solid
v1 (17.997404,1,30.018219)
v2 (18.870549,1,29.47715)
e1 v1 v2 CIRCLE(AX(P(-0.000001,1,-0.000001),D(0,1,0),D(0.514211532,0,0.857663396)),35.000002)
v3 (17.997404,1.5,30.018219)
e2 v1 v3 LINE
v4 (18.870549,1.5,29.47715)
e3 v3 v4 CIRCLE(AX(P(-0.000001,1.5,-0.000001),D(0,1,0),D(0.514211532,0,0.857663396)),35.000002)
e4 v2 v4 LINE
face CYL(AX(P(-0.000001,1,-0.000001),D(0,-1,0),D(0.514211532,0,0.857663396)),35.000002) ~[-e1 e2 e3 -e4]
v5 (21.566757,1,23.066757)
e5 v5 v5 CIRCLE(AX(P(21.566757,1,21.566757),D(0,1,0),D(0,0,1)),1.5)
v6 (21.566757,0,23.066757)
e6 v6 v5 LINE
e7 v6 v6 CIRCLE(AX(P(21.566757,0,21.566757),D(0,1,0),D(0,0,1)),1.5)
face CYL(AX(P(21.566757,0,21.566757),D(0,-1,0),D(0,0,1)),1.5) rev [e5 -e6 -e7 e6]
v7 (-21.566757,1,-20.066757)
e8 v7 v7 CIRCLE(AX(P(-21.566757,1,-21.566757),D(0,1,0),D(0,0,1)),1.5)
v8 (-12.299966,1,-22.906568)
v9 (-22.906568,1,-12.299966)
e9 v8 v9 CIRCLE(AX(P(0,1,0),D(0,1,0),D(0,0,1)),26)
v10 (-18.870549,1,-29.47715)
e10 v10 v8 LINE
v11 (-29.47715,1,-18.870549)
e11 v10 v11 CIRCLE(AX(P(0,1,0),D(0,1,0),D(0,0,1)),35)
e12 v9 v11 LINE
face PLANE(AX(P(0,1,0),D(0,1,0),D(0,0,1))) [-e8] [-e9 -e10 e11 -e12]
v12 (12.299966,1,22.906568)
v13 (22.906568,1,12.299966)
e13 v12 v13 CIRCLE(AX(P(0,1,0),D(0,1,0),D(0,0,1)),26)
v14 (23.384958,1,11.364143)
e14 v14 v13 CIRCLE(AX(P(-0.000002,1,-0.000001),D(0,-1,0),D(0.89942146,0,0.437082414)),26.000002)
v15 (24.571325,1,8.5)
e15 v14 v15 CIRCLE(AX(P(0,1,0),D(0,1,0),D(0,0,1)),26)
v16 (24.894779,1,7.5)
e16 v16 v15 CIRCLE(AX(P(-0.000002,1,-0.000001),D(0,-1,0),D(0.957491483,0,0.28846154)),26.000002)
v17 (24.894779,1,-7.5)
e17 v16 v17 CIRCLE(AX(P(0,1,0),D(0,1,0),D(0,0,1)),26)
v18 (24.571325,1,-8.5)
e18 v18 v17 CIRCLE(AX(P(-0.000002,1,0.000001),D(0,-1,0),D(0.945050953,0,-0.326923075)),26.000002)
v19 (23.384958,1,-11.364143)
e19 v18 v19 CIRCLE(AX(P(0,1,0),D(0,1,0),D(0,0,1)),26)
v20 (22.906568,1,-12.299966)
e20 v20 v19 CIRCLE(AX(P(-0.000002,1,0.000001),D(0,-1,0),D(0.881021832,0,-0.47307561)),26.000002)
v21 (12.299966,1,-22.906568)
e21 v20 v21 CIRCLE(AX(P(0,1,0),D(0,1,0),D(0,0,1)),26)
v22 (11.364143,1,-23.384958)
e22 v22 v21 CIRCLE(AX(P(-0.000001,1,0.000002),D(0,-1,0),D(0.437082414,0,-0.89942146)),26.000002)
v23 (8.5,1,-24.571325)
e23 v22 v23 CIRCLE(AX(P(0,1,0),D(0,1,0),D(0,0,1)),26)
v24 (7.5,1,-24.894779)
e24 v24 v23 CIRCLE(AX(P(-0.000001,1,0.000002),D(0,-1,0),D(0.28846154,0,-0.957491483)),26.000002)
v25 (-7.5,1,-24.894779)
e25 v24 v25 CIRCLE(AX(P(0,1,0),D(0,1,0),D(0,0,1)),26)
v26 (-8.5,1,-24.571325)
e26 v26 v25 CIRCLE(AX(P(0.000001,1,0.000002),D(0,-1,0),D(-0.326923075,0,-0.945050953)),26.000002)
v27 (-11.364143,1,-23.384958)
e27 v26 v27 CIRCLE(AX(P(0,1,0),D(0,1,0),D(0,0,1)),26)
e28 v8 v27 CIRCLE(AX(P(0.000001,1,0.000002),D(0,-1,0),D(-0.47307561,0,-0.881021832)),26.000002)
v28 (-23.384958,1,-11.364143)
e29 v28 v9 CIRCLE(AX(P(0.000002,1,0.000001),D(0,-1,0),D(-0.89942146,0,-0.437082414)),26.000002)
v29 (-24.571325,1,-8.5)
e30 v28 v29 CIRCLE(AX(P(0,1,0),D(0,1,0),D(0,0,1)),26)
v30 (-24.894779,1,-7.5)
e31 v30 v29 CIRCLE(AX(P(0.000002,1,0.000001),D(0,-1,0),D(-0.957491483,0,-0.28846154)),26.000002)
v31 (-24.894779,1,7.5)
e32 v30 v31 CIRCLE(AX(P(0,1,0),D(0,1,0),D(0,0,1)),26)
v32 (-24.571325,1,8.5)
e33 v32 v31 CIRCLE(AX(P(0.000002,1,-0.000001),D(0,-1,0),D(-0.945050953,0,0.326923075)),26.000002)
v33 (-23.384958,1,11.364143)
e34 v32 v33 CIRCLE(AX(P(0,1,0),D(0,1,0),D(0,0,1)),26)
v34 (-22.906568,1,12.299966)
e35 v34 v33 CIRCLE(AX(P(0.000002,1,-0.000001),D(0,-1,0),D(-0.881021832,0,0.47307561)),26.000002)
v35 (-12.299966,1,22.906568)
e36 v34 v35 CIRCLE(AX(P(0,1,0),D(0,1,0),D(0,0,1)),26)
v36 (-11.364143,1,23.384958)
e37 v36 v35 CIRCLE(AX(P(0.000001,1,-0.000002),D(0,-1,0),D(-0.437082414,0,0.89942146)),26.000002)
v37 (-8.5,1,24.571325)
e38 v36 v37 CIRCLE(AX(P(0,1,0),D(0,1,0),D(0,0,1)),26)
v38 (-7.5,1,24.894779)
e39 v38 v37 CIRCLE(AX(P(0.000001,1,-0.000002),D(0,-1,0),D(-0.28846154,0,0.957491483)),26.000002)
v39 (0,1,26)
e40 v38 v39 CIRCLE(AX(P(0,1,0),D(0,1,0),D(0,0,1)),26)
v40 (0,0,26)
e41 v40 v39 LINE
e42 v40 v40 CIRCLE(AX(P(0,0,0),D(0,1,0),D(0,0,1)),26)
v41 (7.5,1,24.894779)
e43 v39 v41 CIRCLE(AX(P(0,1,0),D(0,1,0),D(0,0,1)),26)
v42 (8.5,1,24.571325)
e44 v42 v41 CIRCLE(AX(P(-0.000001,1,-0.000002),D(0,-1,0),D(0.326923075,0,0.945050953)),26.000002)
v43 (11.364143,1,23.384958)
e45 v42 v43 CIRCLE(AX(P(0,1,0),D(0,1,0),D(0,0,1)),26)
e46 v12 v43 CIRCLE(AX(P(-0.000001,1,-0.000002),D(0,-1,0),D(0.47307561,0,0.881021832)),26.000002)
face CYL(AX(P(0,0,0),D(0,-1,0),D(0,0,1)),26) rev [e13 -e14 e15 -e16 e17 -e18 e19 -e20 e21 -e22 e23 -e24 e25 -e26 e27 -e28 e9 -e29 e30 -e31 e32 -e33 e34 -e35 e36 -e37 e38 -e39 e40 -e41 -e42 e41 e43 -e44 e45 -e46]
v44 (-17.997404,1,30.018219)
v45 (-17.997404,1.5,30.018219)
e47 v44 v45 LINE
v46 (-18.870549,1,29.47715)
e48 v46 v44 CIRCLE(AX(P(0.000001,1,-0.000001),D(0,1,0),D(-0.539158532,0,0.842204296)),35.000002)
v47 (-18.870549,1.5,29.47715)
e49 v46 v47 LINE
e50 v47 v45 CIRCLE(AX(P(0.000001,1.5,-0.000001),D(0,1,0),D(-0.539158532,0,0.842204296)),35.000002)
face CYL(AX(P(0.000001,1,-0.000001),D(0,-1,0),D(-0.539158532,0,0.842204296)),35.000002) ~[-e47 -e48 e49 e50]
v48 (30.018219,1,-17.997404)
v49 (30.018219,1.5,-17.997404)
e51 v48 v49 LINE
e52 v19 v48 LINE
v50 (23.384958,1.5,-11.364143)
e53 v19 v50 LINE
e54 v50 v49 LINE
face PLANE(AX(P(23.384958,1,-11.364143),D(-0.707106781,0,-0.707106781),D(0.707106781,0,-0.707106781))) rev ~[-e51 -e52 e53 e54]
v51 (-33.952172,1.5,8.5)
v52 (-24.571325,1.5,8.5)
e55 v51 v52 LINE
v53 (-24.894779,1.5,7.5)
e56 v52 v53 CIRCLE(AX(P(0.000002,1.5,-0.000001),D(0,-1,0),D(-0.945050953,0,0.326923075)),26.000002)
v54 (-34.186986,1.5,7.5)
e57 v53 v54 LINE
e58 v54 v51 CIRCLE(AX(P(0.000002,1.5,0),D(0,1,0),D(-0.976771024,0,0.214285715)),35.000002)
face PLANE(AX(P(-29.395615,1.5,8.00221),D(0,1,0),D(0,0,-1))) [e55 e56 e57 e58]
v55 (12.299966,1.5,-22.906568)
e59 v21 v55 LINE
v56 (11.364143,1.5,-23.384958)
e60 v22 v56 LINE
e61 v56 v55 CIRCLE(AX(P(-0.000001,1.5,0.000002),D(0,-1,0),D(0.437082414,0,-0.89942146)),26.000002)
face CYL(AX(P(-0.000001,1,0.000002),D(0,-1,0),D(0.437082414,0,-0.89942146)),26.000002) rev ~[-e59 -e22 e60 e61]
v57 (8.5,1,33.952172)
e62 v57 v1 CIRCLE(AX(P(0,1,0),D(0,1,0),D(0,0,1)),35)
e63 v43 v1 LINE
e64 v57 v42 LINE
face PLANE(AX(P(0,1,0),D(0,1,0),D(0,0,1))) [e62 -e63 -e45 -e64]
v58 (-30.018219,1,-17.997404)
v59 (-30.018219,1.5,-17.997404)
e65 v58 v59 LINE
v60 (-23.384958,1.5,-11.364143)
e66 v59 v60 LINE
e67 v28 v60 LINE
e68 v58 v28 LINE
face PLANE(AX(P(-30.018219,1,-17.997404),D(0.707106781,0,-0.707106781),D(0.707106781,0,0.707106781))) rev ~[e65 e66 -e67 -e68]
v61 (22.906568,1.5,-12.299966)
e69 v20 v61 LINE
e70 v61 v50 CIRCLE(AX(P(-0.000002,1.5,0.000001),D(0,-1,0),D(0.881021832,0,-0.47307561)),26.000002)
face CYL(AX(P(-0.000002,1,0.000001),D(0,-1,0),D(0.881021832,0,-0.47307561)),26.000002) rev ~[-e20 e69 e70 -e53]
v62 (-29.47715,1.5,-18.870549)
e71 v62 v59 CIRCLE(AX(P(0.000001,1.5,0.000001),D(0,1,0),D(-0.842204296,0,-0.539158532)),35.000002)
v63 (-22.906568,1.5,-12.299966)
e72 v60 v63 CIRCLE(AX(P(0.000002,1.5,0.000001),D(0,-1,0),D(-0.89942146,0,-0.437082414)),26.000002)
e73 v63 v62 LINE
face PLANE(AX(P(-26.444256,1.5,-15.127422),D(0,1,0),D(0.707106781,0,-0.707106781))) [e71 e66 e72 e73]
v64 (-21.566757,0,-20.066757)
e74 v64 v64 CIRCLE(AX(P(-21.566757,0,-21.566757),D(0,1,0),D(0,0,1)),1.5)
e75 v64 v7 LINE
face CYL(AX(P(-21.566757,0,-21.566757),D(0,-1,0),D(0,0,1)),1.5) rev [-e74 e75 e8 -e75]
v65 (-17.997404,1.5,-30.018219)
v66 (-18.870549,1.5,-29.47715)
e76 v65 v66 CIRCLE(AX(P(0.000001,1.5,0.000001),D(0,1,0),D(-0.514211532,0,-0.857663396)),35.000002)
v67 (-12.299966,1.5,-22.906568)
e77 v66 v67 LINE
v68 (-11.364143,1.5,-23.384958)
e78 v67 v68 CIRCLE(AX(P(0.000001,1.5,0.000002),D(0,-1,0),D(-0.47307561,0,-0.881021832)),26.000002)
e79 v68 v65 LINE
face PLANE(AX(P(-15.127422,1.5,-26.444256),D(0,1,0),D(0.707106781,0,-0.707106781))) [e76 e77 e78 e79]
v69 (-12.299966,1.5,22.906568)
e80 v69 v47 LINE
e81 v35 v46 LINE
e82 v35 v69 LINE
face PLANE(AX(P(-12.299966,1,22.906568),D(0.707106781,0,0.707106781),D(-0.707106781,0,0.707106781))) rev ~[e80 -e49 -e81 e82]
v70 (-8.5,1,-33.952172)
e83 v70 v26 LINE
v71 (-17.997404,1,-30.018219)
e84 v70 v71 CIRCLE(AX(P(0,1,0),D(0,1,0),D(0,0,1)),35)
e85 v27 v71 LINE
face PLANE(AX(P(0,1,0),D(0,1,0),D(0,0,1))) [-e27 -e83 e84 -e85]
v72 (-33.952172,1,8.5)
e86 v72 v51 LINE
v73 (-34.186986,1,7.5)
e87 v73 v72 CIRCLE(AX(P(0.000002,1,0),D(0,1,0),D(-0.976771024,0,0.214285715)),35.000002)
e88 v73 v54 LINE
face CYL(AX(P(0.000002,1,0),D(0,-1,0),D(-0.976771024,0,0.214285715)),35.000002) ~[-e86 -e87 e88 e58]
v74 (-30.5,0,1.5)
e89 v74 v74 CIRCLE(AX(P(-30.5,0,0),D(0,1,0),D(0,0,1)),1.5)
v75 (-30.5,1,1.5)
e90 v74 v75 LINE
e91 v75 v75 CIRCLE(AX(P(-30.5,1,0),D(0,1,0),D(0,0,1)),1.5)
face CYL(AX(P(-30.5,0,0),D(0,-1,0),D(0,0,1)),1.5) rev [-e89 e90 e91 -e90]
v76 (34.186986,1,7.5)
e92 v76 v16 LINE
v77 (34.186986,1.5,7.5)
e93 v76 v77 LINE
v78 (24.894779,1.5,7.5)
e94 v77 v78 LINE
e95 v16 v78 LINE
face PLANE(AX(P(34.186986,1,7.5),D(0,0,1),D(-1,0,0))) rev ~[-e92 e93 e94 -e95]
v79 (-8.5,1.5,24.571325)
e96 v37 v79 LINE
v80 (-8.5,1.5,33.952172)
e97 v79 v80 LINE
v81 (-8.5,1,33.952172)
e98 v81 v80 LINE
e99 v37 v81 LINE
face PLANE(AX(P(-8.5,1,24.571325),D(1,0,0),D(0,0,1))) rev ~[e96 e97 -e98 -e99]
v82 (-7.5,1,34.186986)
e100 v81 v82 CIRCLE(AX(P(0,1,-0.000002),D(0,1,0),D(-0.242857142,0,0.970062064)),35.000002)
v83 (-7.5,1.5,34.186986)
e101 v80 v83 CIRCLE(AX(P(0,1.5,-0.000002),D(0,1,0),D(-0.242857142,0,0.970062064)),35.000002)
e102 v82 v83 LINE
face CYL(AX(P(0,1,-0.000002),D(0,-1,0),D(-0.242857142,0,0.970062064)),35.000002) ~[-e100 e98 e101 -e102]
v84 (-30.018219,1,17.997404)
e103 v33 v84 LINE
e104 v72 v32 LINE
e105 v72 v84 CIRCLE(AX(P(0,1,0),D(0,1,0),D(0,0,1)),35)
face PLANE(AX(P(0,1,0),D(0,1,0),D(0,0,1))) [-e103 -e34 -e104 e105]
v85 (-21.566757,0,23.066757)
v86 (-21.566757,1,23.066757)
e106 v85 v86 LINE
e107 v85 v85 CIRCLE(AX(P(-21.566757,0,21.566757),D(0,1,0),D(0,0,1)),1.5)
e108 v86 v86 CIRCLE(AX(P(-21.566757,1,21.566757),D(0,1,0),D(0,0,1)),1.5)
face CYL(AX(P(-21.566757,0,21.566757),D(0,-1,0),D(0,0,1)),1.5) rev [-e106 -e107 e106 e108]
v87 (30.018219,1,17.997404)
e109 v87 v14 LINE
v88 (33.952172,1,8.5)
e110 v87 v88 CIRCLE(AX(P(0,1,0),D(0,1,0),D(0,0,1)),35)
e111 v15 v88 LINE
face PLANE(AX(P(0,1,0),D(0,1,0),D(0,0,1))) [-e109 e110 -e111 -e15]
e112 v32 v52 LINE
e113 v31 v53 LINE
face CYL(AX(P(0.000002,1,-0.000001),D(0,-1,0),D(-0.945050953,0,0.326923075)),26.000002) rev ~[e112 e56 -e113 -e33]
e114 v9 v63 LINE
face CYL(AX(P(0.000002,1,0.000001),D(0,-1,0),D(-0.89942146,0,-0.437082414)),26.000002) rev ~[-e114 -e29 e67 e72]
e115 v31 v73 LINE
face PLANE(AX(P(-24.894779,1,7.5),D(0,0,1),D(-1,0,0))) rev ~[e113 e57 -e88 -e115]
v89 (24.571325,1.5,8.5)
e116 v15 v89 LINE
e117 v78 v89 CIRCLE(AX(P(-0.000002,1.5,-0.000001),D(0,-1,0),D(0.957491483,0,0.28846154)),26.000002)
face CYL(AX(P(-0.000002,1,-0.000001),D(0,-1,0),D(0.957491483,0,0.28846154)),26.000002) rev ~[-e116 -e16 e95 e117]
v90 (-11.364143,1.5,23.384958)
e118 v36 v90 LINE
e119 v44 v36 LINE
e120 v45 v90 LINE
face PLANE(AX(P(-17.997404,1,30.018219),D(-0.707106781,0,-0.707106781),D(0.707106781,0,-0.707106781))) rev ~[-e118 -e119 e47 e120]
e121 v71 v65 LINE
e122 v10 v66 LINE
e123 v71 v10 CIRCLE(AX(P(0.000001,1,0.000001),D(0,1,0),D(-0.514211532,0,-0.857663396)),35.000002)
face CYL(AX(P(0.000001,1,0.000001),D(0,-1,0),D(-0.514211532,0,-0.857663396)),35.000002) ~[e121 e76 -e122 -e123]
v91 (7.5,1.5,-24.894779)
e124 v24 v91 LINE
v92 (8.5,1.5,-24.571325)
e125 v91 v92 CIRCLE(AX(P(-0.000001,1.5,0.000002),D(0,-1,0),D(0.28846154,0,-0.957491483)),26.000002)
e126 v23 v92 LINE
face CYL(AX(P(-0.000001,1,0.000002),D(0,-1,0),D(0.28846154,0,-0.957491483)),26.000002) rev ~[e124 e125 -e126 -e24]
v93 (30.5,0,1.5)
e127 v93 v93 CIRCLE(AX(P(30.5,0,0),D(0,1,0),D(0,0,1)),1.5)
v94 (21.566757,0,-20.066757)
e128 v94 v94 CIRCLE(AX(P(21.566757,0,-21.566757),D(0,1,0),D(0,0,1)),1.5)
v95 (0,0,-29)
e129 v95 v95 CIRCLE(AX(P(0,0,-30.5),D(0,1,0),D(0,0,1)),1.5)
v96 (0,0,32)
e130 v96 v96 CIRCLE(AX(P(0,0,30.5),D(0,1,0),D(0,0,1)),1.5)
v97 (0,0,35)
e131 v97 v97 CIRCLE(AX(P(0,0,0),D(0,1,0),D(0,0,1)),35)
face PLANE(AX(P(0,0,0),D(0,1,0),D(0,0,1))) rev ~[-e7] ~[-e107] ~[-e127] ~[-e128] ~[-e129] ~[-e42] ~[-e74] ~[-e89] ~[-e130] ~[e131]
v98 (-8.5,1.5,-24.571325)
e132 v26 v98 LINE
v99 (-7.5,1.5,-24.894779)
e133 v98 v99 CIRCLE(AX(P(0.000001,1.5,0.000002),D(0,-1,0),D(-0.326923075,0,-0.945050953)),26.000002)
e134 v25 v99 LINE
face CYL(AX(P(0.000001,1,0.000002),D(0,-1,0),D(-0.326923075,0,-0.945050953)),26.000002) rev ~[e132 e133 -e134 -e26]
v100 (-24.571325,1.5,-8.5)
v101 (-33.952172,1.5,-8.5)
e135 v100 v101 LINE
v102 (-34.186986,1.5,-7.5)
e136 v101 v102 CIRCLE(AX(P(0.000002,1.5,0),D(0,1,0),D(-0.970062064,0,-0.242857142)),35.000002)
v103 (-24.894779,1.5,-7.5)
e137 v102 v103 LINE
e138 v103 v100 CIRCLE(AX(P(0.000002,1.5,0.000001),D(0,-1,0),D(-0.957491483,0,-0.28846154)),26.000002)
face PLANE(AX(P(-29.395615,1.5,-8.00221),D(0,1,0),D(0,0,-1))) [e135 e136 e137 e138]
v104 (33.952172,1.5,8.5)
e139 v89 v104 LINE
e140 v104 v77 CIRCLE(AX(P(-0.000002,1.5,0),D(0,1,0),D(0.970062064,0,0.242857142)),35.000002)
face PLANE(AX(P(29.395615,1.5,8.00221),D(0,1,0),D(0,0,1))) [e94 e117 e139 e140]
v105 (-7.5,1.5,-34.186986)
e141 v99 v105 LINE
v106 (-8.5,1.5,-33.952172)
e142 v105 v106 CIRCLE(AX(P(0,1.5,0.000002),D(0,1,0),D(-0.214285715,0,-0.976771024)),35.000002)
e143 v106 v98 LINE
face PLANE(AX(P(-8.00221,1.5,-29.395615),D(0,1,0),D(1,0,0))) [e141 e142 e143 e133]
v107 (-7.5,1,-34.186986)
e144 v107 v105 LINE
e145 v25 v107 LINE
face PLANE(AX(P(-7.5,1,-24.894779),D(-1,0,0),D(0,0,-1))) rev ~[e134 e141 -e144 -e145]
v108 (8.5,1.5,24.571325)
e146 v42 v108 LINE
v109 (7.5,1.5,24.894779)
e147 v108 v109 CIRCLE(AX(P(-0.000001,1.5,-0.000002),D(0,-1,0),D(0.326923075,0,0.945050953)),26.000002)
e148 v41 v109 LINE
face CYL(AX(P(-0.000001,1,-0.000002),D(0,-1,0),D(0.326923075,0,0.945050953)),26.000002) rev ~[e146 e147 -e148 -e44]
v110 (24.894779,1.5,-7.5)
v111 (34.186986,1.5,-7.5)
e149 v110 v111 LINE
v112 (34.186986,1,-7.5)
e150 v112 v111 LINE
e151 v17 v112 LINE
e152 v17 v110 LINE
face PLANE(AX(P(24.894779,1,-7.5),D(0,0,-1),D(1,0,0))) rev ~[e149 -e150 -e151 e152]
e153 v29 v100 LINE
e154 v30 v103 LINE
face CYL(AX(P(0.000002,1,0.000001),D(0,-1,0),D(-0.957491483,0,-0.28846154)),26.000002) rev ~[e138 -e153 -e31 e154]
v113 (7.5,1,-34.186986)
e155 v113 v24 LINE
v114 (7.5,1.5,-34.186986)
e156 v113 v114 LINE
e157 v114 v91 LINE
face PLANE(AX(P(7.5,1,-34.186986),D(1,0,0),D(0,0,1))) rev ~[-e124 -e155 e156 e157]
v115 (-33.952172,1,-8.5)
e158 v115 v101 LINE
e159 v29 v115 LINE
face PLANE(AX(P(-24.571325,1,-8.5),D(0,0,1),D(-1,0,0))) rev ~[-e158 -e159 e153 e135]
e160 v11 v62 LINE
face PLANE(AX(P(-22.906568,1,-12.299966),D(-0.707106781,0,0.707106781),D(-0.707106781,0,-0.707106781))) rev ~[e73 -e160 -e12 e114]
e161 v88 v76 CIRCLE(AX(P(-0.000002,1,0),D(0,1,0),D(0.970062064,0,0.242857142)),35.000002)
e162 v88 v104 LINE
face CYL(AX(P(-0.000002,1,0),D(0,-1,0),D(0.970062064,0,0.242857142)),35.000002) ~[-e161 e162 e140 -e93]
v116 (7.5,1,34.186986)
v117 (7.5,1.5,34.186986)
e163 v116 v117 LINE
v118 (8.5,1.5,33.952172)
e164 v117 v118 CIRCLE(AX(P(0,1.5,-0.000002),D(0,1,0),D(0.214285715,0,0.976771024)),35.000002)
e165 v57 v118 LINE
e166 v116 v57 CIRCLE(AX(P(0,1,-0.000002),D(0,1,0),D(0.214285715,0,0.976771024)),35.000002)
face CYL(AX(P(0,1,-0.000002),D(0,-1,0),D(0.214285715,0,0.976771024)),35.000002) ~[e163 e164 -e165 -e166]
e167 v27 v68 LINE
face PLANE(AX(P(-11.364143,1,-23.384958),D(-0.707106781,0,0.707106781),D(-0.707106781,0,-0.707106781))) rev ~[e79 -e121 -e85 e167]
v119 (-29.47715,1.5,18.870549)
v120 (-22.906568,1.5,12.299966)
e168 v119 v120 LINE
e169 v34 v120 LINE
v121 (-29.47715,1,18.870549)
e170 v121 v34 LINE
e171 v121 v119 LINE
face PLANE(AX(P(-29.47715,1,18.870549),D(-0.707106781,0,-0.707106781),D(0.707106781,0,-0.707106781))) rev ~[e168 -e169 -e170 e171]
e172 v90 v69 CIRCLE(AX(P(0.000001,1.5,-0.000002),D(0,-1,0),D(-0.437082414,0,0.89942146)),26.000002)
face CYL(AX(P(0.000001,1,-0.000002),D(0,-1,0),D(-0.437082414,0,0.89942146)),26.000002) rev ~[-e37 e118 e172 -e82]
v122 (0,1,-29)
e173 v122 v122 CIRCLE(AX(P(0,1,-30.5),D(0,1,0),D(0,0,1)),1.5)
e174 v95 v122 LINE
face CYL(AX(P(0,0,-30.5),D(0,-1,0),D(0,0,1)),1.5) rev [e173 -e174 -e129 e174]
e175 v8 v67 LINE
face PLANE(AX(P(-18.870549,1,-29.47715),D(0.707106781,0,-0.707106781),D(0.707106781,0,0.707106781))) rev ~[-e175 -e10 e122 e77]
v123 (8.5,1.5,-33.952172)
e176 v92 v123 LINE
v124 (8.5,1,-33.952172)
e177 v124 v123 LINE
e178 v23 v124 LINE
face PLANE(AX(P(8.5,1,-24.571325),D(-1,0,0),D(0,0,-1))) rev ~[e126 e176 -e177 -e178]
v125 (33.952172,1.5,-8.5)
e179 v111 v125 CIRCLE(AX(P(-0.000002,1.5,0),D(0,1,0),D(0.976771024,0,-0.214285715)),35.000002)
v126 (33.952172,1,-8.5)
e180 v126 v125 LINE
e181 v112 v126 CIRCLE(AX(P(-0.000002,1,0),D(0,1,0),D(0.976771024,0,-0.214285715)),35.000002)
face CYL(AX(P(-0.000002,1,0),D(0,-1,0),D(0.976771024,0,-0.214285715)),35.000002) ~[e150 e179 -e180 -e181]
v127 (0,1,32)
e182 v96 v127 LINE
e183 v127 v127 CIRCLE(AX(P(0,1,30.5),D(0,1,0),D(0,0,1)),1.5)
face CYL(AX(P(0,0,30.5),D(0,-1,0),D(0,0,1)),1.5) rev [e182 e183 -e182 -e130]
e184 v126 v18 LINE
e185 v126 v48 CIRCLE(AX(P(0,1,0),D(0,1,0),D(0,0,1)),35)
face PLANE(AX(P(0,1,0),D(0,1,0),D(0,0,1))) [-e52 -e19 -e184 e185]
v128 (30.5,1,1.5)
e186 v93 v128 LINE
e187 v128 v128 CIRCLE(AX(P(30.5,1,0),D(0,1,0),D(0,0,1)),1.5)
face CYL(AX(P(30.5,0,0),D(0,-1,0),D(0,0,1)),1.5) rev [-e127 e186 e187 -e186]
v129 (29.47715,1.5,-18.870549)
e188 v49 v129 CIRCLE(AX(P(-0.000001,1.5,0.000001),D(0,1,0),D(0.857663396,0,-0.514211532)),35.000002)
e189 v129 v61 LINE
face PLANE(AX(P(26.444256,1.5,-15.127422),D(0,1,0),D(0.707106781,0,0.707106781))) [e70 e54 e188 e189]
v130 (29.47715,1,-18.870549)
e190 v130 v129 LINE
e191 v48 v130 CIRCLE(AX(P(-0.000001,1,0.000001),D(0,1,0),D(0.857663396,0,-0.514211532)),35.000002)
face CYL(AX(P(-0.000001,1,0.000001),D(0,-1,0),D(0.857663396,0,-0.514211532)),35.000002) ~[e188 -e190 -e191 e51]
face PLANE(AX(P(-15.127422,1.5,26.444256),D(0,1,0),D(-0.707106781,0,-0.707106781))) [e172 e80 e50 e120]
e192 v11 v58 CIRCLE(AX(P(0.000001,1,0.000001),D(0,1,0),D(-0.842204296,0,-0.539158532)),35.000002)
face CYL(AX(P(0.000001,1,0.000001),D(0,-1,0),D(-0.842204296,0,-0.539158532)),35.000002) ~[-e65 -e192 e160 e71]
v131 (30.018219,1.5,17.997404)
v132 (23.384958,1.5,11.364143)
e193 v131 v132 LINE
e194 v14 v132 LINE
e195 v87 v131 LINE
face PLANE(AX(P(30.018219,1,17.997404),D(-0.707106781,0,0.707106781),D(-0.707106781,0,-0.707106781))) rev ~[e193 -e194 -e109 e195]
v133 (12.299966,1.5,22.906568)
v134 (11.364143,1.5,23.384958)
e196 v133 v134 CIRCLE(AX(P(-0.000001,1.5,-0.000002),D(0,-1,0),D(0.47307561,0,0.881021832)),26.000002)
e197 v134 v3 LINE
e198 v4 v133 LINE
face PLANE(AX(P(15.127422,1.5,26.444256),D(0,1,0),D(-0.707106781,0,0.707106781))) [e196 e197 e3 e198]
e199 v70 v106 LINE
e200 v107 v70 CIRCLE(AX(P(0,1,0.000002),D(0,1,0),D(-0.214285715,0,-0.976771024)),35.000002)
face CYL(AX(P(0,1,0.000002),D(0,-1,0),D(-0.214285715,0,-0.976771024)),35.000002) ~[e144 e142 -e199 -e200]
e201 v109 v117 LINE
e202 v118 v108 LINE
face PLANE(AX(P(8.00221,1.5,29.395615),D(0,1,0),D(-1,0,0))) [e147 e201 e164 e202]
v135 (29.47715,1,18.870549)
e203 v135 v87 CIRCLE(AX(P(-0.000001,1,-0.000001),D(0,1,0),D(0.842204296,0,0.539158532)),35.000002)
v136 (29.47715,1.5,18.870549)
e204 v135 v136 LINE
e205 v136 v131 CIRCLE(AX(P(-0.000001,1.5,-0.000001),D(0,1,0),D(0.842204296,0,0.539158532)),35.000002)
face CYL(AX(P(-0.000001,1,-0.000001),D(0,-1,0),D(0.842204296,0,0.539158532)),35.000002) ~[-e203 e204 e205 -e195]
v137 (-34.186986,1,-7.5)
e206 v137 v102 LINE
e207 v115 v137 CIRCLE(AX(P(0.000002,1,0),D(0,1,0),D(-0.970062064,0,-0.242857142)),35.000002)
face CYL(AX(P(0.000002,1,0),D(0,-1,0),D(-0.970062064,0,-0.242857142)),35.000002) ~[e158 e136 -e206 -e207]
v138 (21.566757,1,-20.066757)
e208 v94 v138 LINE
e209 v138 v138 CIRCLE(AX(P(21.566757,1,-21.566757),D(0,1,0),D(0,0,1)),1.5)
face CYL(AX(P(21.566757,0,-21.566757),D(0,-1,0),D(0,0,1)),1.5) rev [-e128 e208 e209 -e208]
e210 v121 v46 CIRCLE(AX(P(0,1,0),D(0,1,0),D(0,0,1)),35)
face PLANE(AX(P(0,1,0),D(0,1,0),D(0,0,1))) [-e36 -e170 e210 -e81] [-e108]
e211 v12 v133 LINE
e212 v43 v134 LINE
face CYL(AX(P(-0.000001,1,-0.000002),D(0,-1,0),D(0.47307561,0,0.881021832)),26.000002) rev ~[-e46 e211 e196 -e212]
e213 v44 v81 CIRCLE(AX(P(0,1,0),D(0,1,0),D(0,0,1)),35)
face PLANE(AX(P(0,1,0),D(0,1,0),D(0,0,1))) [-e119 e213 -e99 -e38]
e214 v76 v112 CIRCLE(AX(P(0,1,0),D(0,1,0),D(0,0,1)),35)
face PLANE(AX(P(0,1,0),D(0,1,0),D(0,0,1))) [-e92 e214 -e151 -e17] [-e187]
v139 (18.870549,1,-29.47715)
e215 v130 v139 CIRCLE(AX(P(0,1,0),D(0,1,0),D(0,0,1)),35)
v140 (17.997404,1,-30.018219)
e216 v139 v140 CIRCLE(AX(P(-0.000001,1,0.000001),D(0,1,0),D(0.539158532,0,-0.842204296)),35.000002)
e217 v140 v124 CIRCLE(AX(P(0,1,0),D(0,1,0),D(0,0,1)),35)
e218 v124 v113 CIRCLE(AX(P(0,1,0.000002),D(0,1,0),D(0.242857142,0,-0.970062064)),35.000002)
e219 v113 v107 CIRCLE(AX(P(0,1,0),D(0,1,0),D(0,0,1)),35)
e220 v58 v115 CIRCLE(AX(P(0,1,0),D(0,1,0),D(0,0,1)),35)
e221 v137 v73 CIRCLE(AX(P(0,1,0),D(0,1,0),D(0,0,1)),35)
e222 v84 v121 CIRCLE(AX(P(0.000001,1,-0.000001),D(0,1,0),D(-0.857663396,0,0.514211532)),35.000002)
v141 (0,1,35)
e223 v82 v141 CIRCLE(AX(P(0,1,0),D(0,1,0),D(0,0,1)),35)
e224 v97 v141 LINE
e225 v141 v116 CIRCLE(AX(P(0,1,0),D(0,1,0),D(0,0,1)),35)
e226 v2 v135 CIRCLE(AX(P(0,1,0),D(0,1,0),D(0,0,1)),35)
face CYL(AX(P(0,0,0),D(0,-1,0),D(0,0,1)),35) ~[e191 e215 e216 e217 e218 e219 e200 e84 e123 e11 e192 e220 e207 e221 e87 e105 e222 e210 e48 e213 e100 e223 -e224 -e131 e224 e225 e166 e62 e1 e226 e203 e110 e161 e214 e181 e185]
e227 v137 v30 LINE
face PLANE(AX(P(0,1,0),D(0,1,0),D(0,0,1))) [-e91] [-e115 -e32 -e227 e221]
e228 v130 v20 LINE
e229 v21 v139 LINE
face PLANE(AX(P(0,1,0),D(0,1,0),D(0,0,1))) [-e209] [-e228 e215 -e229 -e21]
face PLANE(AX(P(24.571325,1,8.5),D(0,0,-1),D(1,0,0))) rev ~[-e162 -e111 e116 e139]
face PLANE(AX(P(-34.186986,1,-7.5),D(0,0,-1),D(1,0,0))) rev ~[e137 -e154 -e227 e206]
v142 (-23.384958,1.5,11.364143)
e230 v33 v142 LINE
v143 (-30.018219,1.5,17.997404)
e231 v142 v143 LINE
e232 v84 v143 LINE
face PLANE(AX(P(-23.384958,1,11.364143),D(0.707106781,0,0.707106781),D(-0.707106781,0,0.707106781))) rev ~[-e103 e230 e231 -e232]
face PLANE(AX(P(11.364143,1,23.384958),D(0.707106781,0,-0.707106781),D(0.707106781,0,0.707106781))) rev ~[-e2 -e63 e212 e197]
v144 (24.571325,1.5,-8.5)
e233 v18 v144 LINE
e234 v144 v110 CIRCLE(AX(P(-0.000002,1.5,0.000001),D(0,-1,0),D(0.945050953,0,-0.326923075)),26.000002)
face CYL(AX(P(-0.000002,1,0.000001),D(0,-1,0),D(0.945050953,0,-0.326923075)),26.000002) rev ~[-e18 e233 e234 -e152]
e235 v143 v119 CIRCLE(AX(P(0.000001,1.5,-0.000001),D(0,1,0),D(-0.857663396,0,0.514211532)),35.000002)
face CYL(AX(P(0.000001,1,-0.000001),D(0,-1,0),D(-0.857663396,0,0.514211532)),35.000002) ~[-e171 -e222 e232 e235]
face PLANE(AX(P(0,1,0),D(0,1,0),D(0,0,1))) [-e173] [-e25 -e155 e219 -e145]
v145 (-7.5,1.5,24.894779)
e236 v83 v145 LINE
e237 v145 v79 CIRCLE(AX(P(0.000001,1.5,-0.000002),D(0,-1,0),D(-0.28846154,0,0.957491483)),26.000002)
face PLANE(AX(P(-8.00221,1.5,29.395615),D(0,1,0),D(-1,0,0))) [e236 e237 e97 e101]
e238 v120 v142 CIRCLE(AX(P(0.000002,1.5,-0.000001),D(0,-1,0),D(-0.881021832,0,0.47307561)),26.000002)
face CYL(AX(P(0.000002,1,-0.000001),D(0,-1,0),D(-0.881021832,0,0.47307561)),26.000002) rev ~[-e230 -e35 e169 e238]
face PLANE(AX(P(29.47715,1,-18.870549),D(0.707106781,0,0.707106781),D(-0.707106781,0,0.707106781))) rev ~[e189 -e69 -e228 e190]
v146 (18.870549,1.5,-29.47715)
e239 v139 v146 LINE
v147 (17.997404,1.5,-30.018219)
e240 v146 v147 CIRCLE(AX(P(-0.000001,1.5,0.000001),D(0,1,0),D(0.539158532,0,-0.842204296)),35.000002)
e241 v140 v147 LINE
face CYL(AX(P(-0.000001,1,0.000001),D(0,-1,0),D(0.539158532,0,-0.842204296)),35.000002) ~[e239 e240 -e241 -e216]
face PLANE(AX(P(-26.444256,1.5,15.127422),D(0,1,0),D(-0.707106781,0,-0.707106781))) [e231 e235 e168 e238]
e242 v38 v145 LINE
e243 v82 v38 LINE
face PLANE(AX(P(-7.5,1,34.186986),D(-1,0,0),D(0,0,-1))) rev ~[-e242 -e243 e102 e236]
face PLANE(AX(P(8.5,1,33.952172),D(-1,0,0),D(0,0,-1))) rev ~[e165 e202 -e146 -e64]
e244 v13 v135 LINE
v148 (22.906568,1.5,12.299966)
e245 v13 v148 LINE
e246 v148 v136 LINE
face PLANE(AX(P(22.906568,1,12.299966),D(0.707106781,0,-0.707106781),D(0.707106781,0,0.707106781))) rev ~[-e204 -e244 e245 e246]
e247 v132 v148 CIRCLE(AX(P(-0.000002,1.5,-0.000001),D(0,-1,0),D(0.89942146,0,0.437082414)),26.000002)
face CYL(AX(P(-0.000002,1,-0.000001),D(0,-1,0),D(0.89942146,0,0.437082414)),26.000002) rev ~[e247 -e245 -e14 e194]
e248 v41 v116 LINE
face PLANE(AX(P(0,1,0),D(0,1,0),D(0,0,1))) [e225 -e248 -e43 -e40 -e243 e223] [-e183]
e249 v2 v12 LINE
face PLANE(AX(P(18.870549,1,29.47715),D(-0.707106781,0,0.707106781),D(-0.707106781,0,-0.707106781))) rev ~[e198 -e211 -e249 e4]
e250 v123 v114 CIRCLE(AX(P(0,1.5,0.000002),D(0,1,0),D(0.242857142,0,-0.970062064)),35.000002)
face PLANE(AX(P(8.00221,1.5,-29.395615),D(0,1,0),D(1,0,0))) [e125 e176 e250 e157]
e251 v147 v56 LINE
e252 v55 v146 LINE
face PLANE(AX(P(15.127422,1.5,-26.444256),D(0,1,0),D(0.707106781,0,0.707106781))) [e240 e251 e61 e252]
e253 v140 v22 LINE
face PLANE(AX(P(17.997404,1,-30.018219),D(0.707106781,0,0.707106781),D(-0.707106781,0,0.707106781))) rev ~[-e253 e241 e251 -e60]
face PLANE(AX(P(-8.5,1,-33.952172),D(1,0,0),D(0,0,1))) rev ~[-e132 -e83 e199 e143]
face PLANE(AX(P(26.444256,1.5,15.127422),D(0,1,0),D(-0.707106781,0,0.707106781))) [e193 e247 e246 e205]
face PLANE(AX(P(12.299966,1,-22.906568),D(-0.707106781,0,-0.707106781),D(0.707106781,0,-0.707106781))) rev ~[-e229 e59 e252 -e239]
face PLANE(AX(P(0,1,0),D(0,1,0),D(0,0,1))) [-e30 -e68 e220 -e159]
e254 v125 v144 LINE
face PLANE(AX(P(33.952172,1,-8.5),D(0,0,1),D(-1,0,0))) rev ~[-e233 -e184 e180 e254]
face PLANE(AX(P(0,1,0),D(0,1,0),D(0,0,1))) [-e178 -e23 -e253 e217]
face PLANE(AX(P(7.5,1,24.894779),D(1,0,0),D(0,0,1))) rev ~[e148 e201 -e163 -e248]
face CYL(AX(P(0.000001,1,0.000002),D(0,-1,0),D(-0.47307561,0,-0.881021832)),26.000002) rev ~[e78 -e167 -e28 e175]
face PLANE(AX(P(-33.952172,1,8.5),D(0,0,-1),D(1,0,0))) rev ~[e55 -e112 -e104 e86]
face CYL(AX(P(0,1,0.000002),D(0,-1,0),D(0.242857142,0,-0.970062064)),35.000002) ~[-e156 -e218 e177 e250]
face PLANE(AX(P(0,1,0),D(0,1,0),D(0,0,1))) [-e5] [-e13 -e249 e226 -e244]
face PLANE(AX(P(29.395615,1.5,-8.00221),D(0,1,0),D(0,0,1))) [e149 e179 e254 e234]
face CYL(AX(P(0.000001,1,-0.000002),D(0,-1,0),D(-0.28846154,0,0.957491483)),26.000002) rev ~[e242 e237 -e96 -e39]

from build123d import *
from build123d.topology import SkipClean

# Parameters (mm, degrees)
SKETCH_1_R               = 35
SKETCH_1_R_2             = 26
SKETCH_1_R_3             = 1.5
EXTRUDE_1_DEPTH          = 1
EXTRUDE_2_DEPTH          = 0.5
PATTERN_CIRCULAR_1_COUNT = 8


with BuildPart() as part:
    # Эскиз1 → Бобышка-Вытянуть1 (new body)
    with BuildSketch(Plane(origin=(0, 0, 0), x_dir=(1, 0, 0), z_dir=(0, 1, 0))):
        with Locations(Location((0, 0, 0), (0, 0, 270))):
            Circle(SKETCH_1_R)
        with Locations(Location((0, 0, 0), (0, 0, 270))):
            Circle(SKETCH_1_R_2, mode=Mode.SUBTRACT)
        with Locations(Location((0, 30.5, 0), (0, 0, 270))):
            Circle(SKETCH_1_R_3, mode=Mode.SUBTRACT)
        with Locations(Location((21.566756826, 21.566756826, 0), (0, 0, 270))):
            Circle(SKETCH_1_R_3, mode=Mode.SUBTRACT)
        with Locations(Location((30.5, 0, 0), (0, 0, 270))):
            Circle(SKETCH_1_R_3, mode=Mode.SUBTRACT)
        with Locations(Location((21.566756826, -21.566756826, 0), (0, 0, 270))):
            Circle(SKETCH_1_R_3, mode=Mode.SUBTRACT)
        with Locations(Location((0, -30.5, 0), (0, 0, 270))):
            Circle(SKETCH_1_R_3, mode=Mode.SUBTRACT)
        with Locations(Location((-21.566756826, -21.566756826, 0), (0, 0, 270))):
            Circle(SKETCH_1_R_3, mode=Mode.SUBTRACT)
        with Locations(Location((-30.5, 0, 0), (0, 0, 270))):
            Circle(SKETCH_1_R_3, mode=Mode.SUBTRACT)
        with Locations(Location((-21.566756826, 21.566756826, 0), (0, 0, 270))):
            Circle(SKETCH_1_R_3, mode=Mode.SUBTRACT)
    extrude(amount=EXTRUDE_1_DEPTH)

    # Эскиз2 → Бобышка-Вытянуть2 (add)
    with SkipClean():  # the faces are left unmerged after this step: merging them gives an invalid solid
        with BuildSketch(Plane(origin=(0, 1, 0), x_dir=(1, 0, 0), z_dir=(0, 1, 0))):
            with BuildLine():
                ThreePointArc((-7.5, 34.186985828), (-8.000861476, 34.0732478), (-8.5, 33.952172243))
                Line((-8.5, 33.952172243), (-8.5, 24.571324751))
                ThreePointArc((-8.5, 24.571324751), (-8.001634558, 24.738105109), (-7.5, 24.894778569))
                Line((-7.5, 24.894778569), (-7.5, 34.186985828))
            make_face()
            with BuildLine():
                ThreePointArc((8.5, 33.952172243), (8.000861476, 34.0732478), (7.5, 34.186985828))
                Line((7.5, 34.186985828), (7.5, 24.894778569))
                ThreePointArc((7.5, 24.894778569), (8.001634558, 24.738105109), (8.5, 24.571324751))
                Line((8.5, 24.571324751), (8.5, 33.952172243))
            make_face()
        extrude_2 = extrude(amount=EXTRUDE_2_DEPTH)

    # Круговой массив1: Бобышка-Вытянуть2 ×8 about axis
    with SkipClean():  # the faces are left unmerged after this step: merging them gives an invalid solid
        pattern_circular_1_axis = Axis((0, 0, 0), (0, 1, 0))
        for i in range(1, PATTERN_CIRCULAR_1_COUNT):
            add(extrude_2.rotate(pattern_circular_1_axis, i * 360 / PATTERN_CIRCULAR_1_COUNT))


solid = part.part
